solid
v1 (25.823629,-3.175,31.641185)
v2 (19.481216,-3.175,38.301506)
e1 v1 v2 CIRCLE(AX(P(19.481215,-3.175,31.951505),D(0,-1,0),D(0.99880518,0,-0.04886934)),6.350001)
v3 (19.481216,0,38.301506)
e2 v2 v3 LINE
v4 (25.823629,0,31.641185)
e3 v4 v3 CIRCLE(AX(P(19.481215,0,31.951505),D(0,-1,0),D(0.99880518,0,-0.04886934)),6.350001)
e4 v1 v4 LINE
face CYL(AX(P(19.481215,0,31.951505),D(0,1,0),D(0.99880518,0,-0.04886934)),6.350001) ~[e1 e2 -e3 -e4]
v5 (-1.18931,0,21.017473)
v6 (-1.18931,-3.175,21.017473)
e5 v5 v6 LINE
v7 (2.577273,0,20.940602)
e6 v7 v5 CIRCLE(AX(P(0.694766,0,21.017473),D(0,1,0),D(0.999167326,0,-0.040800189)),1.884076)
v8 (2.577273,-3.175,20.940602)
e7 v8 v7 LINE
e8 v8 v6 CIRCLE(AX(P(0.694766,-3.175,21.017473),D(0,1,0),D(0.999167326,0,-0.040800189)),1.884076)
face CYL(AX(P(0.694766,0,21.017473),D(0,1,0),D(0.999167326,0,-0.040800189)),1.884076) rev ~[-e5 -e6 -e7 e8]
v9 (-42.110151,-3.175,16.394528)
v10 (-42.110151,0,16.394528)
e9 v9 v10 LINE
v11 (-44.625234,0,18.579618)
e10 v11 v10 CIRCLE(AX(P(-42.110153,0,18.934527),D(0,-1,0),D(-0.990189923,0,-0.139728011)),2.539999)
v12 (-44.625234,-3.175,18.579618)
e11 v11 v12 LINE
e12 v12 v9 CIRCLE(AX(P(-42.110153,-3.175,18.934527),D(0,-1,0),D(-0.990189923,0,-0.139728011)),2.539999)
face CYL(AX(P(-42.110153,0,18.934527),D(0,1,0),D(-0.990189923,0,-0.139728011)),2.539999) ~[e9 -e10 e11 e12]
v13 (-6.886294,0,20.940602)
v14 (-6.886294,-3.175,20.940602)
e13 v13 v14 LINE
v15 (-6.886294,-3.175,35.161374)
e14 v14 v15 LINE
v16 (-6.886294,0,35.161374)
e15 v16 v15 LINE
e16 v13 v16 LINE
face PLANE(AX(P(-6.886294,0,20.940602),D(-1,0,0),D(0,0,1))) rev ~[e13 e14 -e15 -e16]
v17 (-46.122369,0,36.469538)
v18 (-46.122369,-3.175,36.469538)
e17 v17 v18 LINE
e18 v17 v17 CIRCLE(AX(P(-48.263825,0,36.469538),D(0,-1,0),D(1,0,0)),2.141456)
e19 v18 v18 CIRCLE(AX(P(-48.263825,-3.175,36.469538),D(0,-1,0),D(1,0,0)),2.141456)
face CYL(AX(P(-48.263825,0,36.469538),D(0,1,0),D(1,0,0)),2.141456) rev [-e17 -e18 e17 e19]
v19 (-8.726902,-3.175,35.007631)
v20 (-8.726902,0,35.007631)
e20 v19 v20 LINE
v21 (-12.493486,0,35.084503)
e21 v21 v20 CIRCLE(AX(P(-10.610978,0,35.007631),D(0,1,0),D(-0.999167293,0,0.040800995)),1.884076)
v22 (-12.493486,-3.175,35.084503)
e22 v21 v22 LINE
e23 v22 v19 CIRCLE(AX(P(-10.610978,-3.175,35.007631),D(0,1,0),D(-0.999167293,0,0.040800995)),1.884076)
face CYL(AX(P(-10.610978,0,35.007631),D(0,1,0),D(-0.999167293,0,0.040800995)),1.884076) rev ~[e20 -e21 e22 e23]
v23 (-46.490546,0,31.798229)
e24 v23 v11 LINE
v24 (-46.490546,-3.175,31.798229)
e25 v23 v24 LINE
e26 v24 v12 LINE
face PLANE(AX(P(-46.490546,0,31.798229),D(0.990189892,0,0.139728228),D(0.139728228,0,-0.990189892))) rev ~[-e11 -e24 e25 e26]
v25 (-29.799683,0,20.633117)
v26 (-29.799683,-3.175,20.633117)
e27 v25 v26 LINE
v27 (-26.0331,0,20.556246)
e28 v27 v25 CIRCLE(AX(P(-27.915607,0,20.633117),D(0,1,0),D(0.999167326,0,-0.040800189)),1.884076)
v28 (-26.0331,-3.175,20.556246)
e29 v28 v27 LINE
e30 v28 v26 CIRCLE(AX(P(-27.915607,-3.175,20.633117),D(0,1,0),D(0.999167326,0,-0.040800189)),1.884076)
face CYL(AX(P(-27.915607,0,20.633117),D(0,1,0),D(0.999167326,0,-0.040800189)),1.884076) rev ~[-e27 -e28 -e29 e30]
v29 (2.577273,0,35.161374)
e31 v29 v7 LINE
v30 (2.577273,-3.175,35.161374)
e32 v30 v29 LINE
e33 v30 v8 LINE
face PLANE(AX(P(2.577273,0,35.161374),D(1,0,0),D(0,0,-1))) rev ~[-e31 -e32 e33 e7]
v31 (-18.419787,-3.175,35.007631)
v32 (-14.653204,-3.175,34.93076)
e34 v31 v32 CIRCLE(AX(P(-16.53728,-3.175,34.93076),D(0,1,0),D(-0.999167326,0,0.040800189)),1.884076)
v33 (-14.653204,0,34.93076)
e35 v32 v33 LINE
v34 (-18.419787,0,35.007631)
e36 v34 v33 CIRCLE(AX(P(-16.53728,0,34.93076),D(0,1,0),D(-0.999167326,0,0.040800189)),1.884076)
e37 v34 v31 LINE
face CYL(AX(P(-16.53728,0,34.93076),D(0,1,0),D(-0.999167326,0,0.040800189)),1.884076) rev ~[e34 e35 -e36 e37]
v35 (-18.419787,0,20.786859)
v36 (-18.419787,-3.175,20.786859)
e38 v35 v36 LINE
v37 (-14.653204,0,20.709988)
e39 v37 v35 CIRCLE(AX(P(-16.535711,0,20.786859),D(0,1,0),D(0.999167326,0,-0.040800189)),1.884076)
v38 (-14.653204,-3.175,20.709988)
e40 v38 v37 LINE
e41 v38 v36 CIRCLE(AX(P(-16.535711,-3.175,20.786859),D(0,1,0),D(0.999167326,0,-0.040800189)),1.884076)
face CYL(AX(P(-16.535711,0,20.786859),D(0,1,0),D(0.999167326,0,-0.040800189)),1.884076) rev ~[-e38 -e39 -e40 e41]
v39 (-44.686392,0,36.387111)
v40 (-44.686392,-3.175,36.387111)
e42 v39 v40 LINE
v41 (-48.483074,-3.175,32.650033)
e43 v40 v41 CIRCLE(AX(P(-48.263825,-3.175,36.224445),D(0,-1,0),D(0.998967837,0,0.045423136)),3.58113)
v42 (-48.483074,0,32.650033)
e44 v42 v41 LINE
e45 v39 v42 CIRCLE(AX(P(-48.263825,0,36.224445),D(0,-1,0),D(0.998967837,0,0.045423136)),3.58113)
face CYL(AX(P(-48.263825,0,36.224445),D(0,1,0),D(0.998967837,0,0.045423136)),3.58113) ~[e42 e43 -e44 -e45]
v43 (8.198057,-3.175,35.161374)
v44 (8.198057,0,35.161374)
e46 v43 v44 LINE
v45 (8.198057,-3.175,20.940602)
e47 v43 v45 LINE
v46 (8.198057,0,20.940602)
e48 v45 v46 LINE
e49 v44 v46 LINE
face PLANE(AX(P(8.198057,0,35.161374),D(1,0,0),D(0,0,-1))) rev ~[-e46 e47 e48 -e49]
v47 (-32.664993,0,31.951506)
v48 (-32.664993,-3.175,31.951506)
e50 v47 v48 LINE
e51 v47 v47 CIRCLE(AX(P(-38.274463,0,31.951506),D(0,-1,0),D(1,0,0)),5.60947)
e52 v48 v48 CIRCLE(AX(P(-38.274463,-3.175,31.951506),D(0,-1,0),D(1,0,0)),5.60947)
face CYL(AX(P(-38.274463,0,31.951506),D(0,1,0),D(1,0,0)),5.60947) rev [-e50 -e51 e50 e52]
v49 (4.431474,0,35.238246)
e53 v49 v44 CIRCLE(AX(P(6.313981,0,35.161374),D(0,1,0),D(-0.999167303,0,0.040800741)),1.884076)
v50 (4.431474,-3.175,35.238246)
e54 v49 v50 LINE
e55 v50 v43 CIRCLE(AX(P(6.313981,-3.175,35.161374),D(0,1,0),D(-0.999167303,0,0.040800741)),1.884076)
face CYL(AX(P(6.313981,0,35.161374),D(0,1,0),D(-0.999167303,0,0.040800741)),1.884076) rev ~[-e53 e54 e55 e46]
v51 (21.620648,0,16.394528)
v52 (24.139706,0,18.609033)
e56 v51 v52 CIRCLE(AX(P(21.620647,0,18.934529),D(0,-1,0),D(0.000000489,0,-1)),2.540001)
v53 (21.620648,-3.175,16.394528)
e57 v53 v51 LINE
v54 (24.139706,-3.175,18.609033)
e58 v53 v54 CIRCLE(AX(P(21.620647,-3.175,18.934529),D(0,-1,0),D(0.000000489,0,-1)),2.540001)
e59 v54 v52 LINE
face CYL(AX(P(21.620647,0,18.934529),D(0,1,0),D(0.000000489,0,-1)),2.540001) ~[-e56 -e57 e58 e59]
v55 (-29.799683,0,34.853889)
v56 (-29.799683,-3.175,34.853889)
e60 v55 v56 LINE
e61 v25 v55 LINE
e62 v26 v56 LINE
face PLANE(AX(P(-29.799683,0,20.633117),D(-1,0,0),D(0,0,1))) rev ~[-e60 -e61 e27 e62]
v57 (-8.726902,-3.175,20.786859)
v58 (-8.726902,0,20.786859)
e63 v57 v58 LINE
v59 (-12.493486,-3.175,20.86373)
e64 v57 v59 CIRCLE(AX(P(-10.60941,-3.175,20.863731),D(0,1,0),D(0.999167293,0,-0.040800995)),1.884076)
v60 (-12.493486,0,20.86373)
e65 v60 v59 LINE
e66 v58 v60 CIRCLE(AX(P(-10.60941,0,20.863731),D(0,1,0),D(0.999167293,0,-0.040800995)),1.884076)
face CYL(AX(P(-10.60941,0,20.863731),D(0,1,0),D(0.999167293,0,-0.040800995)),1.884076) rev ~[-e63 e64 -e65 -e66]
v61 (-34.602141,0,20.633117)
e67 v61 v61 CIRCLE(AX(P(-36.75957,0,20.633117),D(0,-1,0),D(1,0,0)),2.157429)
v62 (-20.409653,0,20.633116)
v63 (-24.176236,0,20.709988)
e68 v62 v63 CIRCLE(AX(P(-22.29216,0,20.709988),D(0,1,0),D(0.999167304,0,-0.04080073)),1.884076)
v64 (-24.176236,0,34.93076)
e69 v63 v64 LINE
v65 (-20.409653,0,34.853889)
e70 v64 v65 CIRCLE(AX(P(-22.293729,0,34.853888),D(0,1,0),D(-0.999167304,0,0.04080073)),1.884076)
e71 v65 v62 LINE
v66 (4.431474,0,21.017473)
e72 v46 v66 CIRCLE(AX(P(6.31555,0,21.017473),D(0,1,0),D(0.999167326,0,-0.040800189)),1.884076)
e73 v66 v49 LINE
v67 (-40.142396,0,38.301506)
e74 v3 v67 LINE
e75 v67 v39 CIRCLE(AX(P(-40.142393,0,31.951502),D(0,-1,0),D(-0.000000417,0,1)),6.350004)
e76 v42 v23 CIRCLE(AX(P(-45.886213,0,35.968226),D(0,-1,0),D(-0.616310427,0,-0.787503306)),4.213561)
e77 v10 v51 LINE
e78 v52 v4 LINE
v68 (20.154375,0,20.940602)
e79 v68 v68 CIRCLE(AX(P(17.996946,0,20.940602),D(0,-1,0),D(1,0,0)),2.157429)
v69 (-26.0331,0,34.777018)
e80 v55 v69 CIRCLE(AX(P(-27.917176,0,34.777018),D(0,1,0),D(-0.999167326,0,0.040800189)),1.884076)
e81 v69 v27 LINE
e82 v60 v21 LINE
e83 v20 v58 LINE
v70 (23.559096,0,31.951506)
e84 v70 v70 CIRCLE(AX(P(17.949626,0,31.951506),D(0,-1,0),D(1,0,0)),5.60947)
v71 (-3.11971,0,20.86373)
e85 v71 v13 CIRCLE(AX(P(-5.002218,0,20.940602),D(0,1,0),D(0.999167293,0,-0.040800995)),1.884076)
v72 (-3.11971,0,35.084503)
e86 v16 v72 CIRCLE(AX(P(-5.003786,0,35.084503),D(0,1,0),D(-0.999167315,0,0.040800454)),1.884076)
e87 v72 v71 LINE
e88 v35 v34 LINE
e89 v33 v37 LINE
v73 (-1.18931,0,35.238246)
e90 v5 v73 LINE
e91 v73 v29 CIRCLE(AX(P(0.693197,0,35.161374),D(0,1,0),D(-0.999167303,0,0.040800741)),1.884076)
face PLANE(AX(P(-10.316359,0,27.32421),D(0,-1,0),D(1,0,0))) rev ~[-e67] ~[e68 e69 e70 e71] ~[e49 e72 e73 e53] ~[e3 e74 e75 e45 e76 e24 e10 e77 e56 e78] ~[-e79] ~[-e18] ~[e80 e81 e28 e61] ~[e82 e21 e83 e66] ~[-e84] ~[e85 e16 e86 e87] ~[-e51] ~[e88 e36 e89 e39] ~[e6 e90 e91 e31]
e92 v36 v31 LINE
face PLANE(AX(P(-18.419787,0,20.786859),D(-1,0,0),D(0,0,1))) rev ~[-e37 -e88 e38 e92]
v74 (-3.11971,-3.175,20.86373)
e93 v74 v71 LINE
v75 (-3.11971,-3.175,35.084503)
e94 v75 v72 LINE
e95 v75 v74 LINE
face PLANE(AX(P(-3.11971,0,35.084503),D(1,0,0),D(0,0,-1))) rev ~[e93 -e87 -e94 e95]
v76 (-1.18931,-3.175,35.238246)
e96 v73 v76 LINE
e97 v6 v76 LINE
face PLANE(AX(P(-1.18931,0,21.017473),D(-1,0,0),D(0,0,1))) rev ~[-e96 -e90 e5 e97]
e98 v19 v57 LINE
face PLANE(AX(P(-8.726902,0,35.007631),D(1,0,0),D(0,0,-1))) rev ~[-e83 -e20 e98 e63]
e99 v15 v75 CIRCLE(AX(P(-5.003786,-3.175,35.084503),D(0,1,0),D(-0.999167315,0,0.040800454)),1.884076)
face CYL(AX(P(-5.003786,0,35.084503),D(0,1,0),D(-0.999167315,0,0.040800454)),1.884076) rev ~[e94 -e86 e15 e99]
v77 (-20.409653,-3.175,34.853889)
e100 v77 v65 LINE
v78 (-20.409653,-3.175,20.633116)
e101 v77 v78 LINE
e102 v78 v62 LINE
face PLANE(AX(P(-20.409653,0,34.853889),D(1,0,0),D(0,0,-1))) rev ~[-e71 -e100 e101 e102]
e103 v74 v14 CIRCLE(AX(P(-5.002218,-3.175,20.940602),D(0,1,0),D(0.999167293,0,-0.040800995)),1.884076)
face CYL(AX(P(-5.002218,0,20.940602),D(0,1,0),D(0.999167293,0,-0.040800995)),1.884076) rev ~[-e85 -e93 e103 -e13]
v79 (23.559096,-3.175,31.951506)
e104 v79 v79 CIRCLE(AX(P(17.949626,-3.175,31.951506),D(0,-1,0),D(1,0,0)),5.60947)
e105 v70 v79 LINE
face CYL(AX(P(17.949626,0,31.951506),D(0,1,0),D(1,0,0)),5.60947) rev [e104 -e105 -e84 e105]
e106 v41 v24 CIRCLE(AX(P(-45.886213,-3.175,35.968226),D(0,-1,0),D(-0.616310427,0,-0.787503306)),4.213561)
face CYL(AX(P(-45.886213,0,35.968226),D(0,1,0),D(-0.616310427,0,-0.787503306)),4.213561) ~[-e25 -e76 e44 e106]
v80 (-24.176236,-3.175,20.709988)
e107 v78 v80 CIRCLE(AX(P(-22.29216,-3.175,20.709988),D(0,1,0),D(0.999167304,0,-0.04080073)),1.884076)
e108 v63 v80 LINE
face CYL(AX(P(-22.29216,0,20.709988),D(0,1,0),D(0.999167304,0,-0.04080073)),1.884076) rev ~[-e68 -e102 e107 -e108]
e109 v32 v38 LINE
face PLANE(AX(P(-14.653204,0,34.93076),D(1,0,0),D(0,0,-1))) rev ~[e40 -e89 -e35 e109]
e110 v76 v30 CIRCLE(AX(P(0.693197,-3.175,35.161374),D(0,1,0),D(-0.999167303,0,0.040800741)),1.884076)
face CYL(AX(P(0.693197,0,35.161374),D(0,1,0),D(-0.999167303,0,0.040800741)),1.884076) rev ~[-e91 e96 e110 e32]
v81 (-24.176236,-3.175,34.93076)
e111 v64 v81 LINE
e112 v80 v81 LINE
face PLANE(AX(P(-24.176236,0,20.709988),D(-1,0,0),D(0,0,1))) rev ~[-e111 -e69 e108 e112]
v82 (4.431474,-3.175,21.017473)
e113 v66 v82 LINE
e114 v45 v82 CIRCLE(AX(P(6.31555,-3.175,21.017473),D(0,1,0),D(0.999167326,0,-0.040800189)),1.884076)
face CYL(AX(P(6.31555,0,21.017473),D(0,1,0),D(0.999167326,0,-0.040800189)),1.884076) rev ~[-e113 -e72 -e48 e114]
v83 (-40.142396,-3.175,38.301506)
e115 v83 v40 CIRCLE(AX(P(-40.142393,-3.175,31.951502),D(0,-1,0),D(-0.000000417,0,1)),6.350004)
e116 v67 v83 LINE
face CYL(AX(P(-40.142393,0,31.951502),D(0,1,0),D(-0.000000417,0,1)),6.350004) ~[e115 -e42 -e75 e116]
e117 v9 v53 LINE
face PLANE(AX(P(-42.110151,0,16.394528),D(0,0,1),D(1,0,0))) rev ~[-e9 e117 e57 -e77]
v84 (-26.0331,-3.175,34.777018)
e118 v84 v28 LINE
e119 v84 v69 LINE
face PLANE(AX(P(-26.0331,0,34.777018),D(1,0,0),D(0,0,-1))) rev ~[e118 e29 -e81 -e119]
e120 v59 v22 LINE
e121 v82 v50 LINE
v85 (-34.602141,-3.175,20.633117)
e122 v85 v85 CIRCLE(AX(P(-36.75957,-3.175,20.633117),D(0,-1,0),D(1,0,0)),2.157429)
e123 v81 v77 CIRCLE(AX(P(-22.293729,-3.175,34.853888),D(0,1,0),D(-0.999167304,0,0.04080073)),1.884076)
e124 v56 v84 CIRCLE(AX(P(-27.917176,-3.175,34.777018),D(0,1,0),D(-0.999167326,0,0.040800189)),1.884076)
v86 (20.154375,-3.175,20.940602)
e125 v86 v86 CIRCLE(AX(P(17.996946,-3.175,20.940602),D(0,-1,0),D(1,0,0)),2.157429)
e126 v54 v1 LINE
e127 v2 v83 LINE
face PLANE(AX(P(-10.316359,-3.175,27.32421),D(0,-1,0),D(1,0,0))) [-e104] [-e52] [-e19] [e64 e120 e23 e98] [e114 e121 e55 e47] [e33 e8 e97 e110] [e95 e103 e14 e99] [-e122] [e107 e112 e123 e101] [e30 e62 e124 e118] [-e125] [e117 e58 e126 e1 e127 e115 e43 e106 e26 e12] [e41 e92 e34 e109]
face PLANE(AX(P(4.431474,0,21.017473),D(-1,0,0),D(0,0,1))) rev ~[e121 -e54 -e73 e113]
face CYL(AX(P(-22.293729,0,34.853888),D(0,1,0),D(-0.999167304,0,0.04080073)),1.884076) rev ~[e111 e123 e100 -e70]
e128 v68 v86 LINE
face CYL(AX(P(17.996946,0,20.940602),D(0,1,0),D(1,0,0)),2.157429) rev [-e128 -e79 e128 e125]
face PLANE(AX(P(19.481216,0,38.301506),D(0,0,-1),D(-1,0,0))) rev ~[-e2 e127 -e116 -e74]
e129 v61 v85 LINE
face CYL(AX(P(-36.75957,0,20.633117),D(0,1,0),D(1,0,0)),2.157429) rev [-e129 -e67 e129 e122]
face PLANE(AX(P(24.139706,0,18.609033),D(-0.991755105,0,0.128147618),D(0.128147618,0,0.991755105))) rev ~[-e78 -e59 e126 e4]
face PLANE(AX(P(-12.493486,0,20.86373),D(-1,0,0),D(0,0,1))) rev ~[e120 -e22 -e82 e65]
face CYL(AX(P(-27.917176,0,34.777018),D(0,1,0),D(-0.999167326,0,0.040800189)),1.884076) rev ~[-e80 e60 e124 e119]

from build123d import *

# Parameters (mm, degrees)
F0_R     = 2.157429
F0_R_2   = 5.60947
F1_DEPTH = 3.175
F0_R_3   = 2.141456
F2_DEPTH = 0.004921
F3_DEPTH = 3.175


with BuildPart() as f1:
    # F0 (on Front) → F1 (new body)
    with BuildSketch(Plane.XZ):
        with BuildLine():
            Line((19.481216, 38.301506), (-40.142396, 38.301506))
            ThreePointArc((-40.142396, 38.301506), (-42.607797, 37.803368), (-44.686392, 36.387111))
            ThreePointArc((-44.686392, 36.387111), (-46.052064, 34.274936), (-46.490546, 31.798229))
            Line((-46.490546, 31.798229), (-44.625234, 18.579618))
            ThreePointArc((-44.625234, 18.579618), (-43.776004, 17.017098), (-42.110151, 16.394528))
            Line((-42.110151, 16.394528), (21.620648, 16.394528))
            ThreePointArc((21.620648, 16.394528), (23.297675, 17.026865), (24.139706, 18.609033))
            Line((24.139706, 18.609033), (25.823629, 31.641185))
            ThreePointArc((25.823629, 31.641185), (24.07975, 36.330545), (19.481216, 38.301506))
        make_face()
        with Locations((-36.75957, 20.633117)):
            Circle(F0_R, mode=Mode.SUBTRACT)
        with BuildLine():
            Line((-29.799683, 20.633117), (-29.799683, 34.853889))
            ThreePointArc((-29.799683, 34.853889), (-27.878732, 36.660702), (-26.0331, 34.777018))
            Line((-26.0331, 34.777018), (-26.0331, 20.556246))
            ThreePointArc((-26.0331, 20.556246), (-27.954051, 18.749433), (-29.799683, 20.633117))
        make_face(mode=Mode.SUBTRACT)
        with BuildLine():
            Line((-24.176236, 20.709988), (-24.176236, 34.93076))
            ThreePointArc((-24.176236, 34.93076), (-22.255285, 36.737572), (-20.409653, 34.853889))
            Line((-20.409653, 34.853889), (-20.409653, 20.633116))
            ThreePointArc((-20.409653, 20.633116), (-22.330604, 18.826304), (-24.176236, 20.709988))
        make_face(mode=Mode.SUBTRACT)
        with BuildLine():
            Line((-18.419787, 20.786859), (-18.419787, 35.007631))
            ThreePointArc((-18.419787, 35.007631), (-16.498836, 36.814444), (-14.653204, 34.93076))
            Line((-14.653204, 34.93076), (-14.653204, 20.709988))
            ThreePointArc((-14.653204, 20.709988), (-16.574155, 18.903175), (-18.419787, 20.786859))
        make_face(mode=Mode.SUBTRACT)
        with Locations((17.996946, 20.940602)):
            Circle(F0_R, mode=Mode.SUBTRACT)
        with BuildLine():
            Line((-12.493486, 20.86373), (-12.493486, 35.084503))
            ThreePointArc((-12.493486, 35.084503), (-10.572535, 36.891315), (-8.726902, 35.007631))
            Line((-8.726902, 35.007631), (-8.726902, 20.786859))
            ThreePointArc((-8.726902, 20.786859), (-10.647853, 18.980047), (-12.493486, 20.86373))
        make_face(mode=Mode.SUBTRACT)
        with BuildLine():
            Line((-6.886294, 20.940602), (-6.886294, 35.161374))
            ThreePointArc((-6.886294, 35.161374), (-4.965343, 36.968187), (-3.11971, 35.084503))
            Line((-3.11971, 35.084503), (-3.11971, 20.86373))
            ThreePointArc((-3.11971, 20.86373), (-5.040661, 19.056918), (-6.886294, 20.940602))
        make_face(mode=Mode.SUBTRACT)
        with BuildLine():
            Line((-1.18931, 21.017473), (-1.18931, 35.238246))
            ThreePointArc((-1.18931, 35.238246), (0.73164, 37.045058), (2.577273, 35.161374))
            Line((2.577273, 35.161374), (2.577273, 20.940602))
            ThreePointArc((2.577273, 20.940602), (0.656322, 19.133789), (-1.18931, 21.017473))
        make_face(mode=Mode.SUBTRACT)
        with BuildLine():
            Line((4.431474, 21.017473), (4.431474, 35.238246))
            ThreePointArc((4.431474, 35.238246), (6.352424, 37.045058), (8.198057, 35.161374))
            Line((8.198057, 35.161374), (8.198057, 20.940602))
            ThreePointArc((8.198057, 20.940602), (6.277106, 19.133789), (4.431474, 21.017473))
        make_face(mode=Mode.SUBTRACT)
        with Locations((-38.274463, 31.951506)):
            Circle(F0_R_2, mode=Mode.SUBTRACT)
        with Locations((17.949626, 31.951506)):
            Circle(F0_R_2, mode=Mode.SUBTRACT)
    extrude(amount=F1_DEPTH)

    # F0 (on Front) → F2 (join)
    with BuildSketch(Plane.XZ):
        with BuildLine():
            Line((19.481216, 38.301506), (-40.142396, 38.301506))
            ThreePointArc((-40.142396, 38.301506), (-42.607797, 37.803368), (-44.686392, 36.387111))
            ThreePointArc((-44.686392, 36.387111), (-46.052064, 34.274936), (-46.490546, 31.798229))
            Line((-46.490546, 31.798229), (-44.625234, 18.579618))
            ThreePointArc((-44.625234, 18.579618), (-43.776004, 17.017098), (-42.110151, 16.394528))
            Line((-42.110151, 16.394528), (21.620648, 16.394528))
            ThreePointArc((21.620648, 16.394528), (23.297675, 17.026865), (24.139706, 18.609033))
            Line((24.139706, 18.609033), (25.823629, 31.641185))
            ThreePointArc((25.823629, 31.641185), (24.07975, 36.330545), (19.481216, 38.301506))
        make_face()
        with Locations((-36.75957, 20.633117)):
            Circle(F0_R, mode=Mode.SUBTRACT)
        with BuildLine():
            Line((-29.799683, 20.633117), (-29.799683, 34.853889))
            ThreePointArc((-29.799683, 34.853889), (-27.878732, 36.660702), (-26.0331, 34.777018))
            Line((-26.0331, 34.777018), (-26.0331, 20.556246))
            ThreePointArc((-26.0331, 20.556246), (-27.954051, 18.749433), (-29.799683, 20.633117))
        make_face(mode=Mode.SUBTRACT)
        with BuildLine():
            Line((-24.176236, 20.709988), (-24.176236, 34.93076))
            ThreePointArc((-24.176236, 34.93076), (-22.255285, 36.737572), (-20.409653, 34.853889))
            Line((-20.409653, 34.853889), (-20.409653, 20.633116))
            ThreePointArc((-20.409653, 20.633116), (-22.330604, 18.826304), (-24.176236, 20.709988))
        make_face(mode=Mode.SUBTRACT)
        with BuildLine():
            Line((-18.419787, 20.786859), (-18.419787, 35.007631))
            ThreePointArc((-18.419787, 35.007631), (-16.498836, 36.814444), (-14.653204, 34.93076))
            Line((-14.653204, 34.93076), (-14.653204, 20.709988))
            ThreePointArc((-14.653204, 20.709988), (-16.574155, 18.903175), (-18.419787, 20.786859))
        make_face(mode=Mode.SUBTRACT)
        with Locations((17.996946, 20.940602)):
            Circle(F0_R, mode=Mode.SUBTRACT)
        with BuildLine():
            Line((-12.493486, 20.86373), (-12.493486, 35.084503))
            ThreePointArc((-12.493486, 35.084503), (-10.572535, 36.891315), (-8.726902, 35.007631))
            Line((-8.726902, 35.007631), (-8.726902, 20.786859))
            ThreePointArc((-8.726902, 20.786859), (-10.647853, 18.980047), (-12.493486, 20.86373))
        make_face(mode=Mode.SUBTRACT)
        with BuildLine():
            Line((-6.886294, 20.940602), (-6.886294, 35.161374))
            ThreePointArc((-6.886294, 35.161374), (-4.965343, 36.968187), (-3.11971, 35.084503))
            Line((-3.11971, 35.084503), (-3.11971, 20.86373))
            ThreePointArc((-3.11971, 20.86373), (-5.040661, 19.056918), (-6.886294, 20.940602))
        make_face(mode=Mode.SUBTRACT)
        with BuildLine():
            Line((-1.18931, 21.017473), (-1.18931, 35.238246))
            ThreePointArc((-1.18931, 35.238246), (0.73164, 37.045058), (2.577273, 35.161374))
            Line((2.577273, 35.161374), (2.577273, 20.940602))
            ThreePointArc((2.577273, 20.940602), (0.656322, 19.133789), (-1.18931, 21.017473))
        make_face(mode=Mode.SUBTRACT)
        with BuildLine():
            Line((4.431474, 21.017473), (4.431474, 35.238246))
            ThreePointArc((4.431474, 35.238246), (6.352424, 37.045058), (8.198057, 35.161374))
            Line((8.198057, 35.161374), (8.198057, 20.940602))
            ThreePointArc((8.198057, 20.940602), (6.277106, 19.133789), (4.431474, 21.017473))
        make_face(mode=Mode.SUBTRACT)
        with Locations((-38.274463, 31.951506)):
            Circle(F0_R_2, mode=Mode.SUBTRACT)
        with Locations((17.949626, 31.951506)):
            Circle(F0_R_2, mode=Mode.SUBTRACT)
        with BuildLine():
            ThreePointArc((-46.490546, 31.798229), (-46.052064, 34.274936), (-44.686392, 36.387111))
            ThreePointArc((-44.686392, 36.387111), (-50.775954, 38.77664), (-48.483074, 32.650033))
            ThreePointArc((-48.483074, 32.650033), (-47.542505, 32.09385), (-46.490546, 31.798229))
        make_face()
        with Locations((-48.263825, 36.469538)):
            Circle(F0_R_3, mode=Mode.SUBTRACT)
    extrude(amount=F2_DEPTH)

    # F0 (on Front) → F3 (join)
    with BuildSketch(Plane.XZ):
        with BuildLine():
            Line((19.481216, 38.301506), (-40.142396, 38.301506))
            ThreePointArc((-40.142396, 38.301506), (-42.607797, 37.803368), (-44.686392, 36.387111))
            ThreePointArc((-44.686392, 36.387111), (-46.052064, 34.274936), (-46.490546, 31.798229))
            Line((-46.490546, 31.798229), (-44.625234, 18.579618))
            ThreePointArc((-44.625234, 18.579618), (-43.776004, 17.017098), (-42.110151, 16.394528))
            Line((-42.110151, 16.394528), (21.620648, 16.394528))
            ThreePointArc((21.620648, 16.394528), (23.297675, 17.026865), (24.139706, 18.609033))
            Line((24.139706, 18.609033), (25.823629, 31.641185))
            ThreePointArc((25.823629, 31.641185), (24.07975, 36.330545), (19.481216, 38.301506))
        make_face()
        with Locations((-36.75957, 20.633117)):
            Circle(F0_R, mode=Mode.SUBTRACT)
        with BuildLine():
            Line((-29.799683, 20.633117), (-29.799683, 34.853889))
            ThreePointArc((-29.799683, 34.853889), (-27.878732, 36.660702), (-26.0331, 34.777018))
            Line((-26.0331, 34.777018), (-26.0331, 20.556246))
            ThreePointArc((-26.0331, 20.556246), (-27.954051, 18.749433), (-29.799683, 20.633117))
        make_face(mode=Mode.SUBTRACT)
        with BuildLine():
            Line((-24.176236, 20.709988), (-24.176236, 34.93076))
            ThreePointArc((-24.176236, 34.93076), (-22.255285, 36.737572), (-20.409653, 34.853889))
            Line((-20.409653, 34.853889), (-20.409653, 20.633116))
            ThreePointArc((-20.409653, 20.633116), (-22.330604, 18.826304), (-24.176236, 20.709988))
        make_face(mode=Mode.SUBTRACT)
        with BuildLine():
            Line((-18.419787, 20.786859), (-18.419787, 35.007631))
            ThreePointArc((-18.419787, 35.007631), (-16.498836, 36.814444), (-14.653204, 34.93076))
            Line((-14.653204, 34.93076), (-14.653204, 20.709988))
            ThreePointArc((-14.653204, 20.709988), (-16.574155, 18.903175), (-18.419787, 20.786859))
        make_face(mode=Mode.SUBTRACT)
        with Locations((17.996946, 20.940602)):
            Circle(F0_R, mode=Mode.SUBTRACT)
        with BuildLine():
            Line((-12.493486, 20.86373), (-12.493486, 35.084503))
            ThreePointArc((-12.493486, 35.084503), (-10.572535, 36.891315), (-8.726902, 35.007631))
            Line((-8.726902, 35.007631), (-8.726902, 20.786859))
            ThreePointArc((-8.726902, 20.786859), (-10.647853, 18.980047), (-12.493486, 20.86373))
        make_face(mode=Mode.SUBTRACT)
        with BuildLine():
            Line((-6.886294, 20.940602), (-6.886294, 35.161374))
            ThreePointArc((-6.886294, 35.161374), (-4.965343, 36.968187), (-3.11971, 35.084503))
            Line((-3.11971, 35.084503), (-3.11971, 20.86373))
            ThreePointArc((-3.11971, 20.86373), (-5.040661, 19.056918), (-6.886294, 20.940602))
        make_face(mode=Mode.SUBTRACT)
        with BuildLine():
            Line((-1.18931, 21.017473), (-1.18931, 35.238246))
            ThreePointArc((-1.18931, 35.238246), (0.73164, 37.045058), (2.577273, 35.161374))
            Line((2.577273, 35.161374), (2.577273, 20.940602))
            ThreePointArc((2.577273, 20.940602), (0.656322, 19.133789), (-1.18931, 21.017473))
        make_face(mode=Mode.SUBTRACT)
        with BuildLine():
            Line((4.431474, 21.017473), (4.431474, 35.238246))
            ThreePointArc((4.431474, 35.238246), (6.352424, 37.045058), (8.198057, 35.161374))
            Line((8.198057, 35.161374), (8.198057, 20.940602))
            ThreePointArc((8.198057, 20.940602), (6.277106, 19.133789), (4.431474, 21.017473))
        make_face(mode=Mode.SUBTRACT)
        with Locations((-38.274463, 31.951506)):
            Circle(F0_R_2, mode=Mode.SUBTRACT)
        with Locations((17.949626, 31.951506)):
            Circle(F0_R_2, mode=Mode.SUBTRACT)
        with BuildLine():
            ThreePointArc((-46.490546, 31.798229), (-46.052064, 34.274936), (-44.686392, 36.387111))
            ThreePointArc((-44.686392, 36.387111), (-50.775954, 38.77664), (-48.483074, 32.650033))
            ThreePointArc((-48.483074, 32.650033), (-47.542505, 32.09385), (-46.490546, 31.798229))
        make_face()
        with Locations((-48.263825, 36.469538)):
            Circle(F0_R_3, mode=Mode.SUBTRACT)
    extrude(amount=F3_DEPTH)


solid = f1.part
